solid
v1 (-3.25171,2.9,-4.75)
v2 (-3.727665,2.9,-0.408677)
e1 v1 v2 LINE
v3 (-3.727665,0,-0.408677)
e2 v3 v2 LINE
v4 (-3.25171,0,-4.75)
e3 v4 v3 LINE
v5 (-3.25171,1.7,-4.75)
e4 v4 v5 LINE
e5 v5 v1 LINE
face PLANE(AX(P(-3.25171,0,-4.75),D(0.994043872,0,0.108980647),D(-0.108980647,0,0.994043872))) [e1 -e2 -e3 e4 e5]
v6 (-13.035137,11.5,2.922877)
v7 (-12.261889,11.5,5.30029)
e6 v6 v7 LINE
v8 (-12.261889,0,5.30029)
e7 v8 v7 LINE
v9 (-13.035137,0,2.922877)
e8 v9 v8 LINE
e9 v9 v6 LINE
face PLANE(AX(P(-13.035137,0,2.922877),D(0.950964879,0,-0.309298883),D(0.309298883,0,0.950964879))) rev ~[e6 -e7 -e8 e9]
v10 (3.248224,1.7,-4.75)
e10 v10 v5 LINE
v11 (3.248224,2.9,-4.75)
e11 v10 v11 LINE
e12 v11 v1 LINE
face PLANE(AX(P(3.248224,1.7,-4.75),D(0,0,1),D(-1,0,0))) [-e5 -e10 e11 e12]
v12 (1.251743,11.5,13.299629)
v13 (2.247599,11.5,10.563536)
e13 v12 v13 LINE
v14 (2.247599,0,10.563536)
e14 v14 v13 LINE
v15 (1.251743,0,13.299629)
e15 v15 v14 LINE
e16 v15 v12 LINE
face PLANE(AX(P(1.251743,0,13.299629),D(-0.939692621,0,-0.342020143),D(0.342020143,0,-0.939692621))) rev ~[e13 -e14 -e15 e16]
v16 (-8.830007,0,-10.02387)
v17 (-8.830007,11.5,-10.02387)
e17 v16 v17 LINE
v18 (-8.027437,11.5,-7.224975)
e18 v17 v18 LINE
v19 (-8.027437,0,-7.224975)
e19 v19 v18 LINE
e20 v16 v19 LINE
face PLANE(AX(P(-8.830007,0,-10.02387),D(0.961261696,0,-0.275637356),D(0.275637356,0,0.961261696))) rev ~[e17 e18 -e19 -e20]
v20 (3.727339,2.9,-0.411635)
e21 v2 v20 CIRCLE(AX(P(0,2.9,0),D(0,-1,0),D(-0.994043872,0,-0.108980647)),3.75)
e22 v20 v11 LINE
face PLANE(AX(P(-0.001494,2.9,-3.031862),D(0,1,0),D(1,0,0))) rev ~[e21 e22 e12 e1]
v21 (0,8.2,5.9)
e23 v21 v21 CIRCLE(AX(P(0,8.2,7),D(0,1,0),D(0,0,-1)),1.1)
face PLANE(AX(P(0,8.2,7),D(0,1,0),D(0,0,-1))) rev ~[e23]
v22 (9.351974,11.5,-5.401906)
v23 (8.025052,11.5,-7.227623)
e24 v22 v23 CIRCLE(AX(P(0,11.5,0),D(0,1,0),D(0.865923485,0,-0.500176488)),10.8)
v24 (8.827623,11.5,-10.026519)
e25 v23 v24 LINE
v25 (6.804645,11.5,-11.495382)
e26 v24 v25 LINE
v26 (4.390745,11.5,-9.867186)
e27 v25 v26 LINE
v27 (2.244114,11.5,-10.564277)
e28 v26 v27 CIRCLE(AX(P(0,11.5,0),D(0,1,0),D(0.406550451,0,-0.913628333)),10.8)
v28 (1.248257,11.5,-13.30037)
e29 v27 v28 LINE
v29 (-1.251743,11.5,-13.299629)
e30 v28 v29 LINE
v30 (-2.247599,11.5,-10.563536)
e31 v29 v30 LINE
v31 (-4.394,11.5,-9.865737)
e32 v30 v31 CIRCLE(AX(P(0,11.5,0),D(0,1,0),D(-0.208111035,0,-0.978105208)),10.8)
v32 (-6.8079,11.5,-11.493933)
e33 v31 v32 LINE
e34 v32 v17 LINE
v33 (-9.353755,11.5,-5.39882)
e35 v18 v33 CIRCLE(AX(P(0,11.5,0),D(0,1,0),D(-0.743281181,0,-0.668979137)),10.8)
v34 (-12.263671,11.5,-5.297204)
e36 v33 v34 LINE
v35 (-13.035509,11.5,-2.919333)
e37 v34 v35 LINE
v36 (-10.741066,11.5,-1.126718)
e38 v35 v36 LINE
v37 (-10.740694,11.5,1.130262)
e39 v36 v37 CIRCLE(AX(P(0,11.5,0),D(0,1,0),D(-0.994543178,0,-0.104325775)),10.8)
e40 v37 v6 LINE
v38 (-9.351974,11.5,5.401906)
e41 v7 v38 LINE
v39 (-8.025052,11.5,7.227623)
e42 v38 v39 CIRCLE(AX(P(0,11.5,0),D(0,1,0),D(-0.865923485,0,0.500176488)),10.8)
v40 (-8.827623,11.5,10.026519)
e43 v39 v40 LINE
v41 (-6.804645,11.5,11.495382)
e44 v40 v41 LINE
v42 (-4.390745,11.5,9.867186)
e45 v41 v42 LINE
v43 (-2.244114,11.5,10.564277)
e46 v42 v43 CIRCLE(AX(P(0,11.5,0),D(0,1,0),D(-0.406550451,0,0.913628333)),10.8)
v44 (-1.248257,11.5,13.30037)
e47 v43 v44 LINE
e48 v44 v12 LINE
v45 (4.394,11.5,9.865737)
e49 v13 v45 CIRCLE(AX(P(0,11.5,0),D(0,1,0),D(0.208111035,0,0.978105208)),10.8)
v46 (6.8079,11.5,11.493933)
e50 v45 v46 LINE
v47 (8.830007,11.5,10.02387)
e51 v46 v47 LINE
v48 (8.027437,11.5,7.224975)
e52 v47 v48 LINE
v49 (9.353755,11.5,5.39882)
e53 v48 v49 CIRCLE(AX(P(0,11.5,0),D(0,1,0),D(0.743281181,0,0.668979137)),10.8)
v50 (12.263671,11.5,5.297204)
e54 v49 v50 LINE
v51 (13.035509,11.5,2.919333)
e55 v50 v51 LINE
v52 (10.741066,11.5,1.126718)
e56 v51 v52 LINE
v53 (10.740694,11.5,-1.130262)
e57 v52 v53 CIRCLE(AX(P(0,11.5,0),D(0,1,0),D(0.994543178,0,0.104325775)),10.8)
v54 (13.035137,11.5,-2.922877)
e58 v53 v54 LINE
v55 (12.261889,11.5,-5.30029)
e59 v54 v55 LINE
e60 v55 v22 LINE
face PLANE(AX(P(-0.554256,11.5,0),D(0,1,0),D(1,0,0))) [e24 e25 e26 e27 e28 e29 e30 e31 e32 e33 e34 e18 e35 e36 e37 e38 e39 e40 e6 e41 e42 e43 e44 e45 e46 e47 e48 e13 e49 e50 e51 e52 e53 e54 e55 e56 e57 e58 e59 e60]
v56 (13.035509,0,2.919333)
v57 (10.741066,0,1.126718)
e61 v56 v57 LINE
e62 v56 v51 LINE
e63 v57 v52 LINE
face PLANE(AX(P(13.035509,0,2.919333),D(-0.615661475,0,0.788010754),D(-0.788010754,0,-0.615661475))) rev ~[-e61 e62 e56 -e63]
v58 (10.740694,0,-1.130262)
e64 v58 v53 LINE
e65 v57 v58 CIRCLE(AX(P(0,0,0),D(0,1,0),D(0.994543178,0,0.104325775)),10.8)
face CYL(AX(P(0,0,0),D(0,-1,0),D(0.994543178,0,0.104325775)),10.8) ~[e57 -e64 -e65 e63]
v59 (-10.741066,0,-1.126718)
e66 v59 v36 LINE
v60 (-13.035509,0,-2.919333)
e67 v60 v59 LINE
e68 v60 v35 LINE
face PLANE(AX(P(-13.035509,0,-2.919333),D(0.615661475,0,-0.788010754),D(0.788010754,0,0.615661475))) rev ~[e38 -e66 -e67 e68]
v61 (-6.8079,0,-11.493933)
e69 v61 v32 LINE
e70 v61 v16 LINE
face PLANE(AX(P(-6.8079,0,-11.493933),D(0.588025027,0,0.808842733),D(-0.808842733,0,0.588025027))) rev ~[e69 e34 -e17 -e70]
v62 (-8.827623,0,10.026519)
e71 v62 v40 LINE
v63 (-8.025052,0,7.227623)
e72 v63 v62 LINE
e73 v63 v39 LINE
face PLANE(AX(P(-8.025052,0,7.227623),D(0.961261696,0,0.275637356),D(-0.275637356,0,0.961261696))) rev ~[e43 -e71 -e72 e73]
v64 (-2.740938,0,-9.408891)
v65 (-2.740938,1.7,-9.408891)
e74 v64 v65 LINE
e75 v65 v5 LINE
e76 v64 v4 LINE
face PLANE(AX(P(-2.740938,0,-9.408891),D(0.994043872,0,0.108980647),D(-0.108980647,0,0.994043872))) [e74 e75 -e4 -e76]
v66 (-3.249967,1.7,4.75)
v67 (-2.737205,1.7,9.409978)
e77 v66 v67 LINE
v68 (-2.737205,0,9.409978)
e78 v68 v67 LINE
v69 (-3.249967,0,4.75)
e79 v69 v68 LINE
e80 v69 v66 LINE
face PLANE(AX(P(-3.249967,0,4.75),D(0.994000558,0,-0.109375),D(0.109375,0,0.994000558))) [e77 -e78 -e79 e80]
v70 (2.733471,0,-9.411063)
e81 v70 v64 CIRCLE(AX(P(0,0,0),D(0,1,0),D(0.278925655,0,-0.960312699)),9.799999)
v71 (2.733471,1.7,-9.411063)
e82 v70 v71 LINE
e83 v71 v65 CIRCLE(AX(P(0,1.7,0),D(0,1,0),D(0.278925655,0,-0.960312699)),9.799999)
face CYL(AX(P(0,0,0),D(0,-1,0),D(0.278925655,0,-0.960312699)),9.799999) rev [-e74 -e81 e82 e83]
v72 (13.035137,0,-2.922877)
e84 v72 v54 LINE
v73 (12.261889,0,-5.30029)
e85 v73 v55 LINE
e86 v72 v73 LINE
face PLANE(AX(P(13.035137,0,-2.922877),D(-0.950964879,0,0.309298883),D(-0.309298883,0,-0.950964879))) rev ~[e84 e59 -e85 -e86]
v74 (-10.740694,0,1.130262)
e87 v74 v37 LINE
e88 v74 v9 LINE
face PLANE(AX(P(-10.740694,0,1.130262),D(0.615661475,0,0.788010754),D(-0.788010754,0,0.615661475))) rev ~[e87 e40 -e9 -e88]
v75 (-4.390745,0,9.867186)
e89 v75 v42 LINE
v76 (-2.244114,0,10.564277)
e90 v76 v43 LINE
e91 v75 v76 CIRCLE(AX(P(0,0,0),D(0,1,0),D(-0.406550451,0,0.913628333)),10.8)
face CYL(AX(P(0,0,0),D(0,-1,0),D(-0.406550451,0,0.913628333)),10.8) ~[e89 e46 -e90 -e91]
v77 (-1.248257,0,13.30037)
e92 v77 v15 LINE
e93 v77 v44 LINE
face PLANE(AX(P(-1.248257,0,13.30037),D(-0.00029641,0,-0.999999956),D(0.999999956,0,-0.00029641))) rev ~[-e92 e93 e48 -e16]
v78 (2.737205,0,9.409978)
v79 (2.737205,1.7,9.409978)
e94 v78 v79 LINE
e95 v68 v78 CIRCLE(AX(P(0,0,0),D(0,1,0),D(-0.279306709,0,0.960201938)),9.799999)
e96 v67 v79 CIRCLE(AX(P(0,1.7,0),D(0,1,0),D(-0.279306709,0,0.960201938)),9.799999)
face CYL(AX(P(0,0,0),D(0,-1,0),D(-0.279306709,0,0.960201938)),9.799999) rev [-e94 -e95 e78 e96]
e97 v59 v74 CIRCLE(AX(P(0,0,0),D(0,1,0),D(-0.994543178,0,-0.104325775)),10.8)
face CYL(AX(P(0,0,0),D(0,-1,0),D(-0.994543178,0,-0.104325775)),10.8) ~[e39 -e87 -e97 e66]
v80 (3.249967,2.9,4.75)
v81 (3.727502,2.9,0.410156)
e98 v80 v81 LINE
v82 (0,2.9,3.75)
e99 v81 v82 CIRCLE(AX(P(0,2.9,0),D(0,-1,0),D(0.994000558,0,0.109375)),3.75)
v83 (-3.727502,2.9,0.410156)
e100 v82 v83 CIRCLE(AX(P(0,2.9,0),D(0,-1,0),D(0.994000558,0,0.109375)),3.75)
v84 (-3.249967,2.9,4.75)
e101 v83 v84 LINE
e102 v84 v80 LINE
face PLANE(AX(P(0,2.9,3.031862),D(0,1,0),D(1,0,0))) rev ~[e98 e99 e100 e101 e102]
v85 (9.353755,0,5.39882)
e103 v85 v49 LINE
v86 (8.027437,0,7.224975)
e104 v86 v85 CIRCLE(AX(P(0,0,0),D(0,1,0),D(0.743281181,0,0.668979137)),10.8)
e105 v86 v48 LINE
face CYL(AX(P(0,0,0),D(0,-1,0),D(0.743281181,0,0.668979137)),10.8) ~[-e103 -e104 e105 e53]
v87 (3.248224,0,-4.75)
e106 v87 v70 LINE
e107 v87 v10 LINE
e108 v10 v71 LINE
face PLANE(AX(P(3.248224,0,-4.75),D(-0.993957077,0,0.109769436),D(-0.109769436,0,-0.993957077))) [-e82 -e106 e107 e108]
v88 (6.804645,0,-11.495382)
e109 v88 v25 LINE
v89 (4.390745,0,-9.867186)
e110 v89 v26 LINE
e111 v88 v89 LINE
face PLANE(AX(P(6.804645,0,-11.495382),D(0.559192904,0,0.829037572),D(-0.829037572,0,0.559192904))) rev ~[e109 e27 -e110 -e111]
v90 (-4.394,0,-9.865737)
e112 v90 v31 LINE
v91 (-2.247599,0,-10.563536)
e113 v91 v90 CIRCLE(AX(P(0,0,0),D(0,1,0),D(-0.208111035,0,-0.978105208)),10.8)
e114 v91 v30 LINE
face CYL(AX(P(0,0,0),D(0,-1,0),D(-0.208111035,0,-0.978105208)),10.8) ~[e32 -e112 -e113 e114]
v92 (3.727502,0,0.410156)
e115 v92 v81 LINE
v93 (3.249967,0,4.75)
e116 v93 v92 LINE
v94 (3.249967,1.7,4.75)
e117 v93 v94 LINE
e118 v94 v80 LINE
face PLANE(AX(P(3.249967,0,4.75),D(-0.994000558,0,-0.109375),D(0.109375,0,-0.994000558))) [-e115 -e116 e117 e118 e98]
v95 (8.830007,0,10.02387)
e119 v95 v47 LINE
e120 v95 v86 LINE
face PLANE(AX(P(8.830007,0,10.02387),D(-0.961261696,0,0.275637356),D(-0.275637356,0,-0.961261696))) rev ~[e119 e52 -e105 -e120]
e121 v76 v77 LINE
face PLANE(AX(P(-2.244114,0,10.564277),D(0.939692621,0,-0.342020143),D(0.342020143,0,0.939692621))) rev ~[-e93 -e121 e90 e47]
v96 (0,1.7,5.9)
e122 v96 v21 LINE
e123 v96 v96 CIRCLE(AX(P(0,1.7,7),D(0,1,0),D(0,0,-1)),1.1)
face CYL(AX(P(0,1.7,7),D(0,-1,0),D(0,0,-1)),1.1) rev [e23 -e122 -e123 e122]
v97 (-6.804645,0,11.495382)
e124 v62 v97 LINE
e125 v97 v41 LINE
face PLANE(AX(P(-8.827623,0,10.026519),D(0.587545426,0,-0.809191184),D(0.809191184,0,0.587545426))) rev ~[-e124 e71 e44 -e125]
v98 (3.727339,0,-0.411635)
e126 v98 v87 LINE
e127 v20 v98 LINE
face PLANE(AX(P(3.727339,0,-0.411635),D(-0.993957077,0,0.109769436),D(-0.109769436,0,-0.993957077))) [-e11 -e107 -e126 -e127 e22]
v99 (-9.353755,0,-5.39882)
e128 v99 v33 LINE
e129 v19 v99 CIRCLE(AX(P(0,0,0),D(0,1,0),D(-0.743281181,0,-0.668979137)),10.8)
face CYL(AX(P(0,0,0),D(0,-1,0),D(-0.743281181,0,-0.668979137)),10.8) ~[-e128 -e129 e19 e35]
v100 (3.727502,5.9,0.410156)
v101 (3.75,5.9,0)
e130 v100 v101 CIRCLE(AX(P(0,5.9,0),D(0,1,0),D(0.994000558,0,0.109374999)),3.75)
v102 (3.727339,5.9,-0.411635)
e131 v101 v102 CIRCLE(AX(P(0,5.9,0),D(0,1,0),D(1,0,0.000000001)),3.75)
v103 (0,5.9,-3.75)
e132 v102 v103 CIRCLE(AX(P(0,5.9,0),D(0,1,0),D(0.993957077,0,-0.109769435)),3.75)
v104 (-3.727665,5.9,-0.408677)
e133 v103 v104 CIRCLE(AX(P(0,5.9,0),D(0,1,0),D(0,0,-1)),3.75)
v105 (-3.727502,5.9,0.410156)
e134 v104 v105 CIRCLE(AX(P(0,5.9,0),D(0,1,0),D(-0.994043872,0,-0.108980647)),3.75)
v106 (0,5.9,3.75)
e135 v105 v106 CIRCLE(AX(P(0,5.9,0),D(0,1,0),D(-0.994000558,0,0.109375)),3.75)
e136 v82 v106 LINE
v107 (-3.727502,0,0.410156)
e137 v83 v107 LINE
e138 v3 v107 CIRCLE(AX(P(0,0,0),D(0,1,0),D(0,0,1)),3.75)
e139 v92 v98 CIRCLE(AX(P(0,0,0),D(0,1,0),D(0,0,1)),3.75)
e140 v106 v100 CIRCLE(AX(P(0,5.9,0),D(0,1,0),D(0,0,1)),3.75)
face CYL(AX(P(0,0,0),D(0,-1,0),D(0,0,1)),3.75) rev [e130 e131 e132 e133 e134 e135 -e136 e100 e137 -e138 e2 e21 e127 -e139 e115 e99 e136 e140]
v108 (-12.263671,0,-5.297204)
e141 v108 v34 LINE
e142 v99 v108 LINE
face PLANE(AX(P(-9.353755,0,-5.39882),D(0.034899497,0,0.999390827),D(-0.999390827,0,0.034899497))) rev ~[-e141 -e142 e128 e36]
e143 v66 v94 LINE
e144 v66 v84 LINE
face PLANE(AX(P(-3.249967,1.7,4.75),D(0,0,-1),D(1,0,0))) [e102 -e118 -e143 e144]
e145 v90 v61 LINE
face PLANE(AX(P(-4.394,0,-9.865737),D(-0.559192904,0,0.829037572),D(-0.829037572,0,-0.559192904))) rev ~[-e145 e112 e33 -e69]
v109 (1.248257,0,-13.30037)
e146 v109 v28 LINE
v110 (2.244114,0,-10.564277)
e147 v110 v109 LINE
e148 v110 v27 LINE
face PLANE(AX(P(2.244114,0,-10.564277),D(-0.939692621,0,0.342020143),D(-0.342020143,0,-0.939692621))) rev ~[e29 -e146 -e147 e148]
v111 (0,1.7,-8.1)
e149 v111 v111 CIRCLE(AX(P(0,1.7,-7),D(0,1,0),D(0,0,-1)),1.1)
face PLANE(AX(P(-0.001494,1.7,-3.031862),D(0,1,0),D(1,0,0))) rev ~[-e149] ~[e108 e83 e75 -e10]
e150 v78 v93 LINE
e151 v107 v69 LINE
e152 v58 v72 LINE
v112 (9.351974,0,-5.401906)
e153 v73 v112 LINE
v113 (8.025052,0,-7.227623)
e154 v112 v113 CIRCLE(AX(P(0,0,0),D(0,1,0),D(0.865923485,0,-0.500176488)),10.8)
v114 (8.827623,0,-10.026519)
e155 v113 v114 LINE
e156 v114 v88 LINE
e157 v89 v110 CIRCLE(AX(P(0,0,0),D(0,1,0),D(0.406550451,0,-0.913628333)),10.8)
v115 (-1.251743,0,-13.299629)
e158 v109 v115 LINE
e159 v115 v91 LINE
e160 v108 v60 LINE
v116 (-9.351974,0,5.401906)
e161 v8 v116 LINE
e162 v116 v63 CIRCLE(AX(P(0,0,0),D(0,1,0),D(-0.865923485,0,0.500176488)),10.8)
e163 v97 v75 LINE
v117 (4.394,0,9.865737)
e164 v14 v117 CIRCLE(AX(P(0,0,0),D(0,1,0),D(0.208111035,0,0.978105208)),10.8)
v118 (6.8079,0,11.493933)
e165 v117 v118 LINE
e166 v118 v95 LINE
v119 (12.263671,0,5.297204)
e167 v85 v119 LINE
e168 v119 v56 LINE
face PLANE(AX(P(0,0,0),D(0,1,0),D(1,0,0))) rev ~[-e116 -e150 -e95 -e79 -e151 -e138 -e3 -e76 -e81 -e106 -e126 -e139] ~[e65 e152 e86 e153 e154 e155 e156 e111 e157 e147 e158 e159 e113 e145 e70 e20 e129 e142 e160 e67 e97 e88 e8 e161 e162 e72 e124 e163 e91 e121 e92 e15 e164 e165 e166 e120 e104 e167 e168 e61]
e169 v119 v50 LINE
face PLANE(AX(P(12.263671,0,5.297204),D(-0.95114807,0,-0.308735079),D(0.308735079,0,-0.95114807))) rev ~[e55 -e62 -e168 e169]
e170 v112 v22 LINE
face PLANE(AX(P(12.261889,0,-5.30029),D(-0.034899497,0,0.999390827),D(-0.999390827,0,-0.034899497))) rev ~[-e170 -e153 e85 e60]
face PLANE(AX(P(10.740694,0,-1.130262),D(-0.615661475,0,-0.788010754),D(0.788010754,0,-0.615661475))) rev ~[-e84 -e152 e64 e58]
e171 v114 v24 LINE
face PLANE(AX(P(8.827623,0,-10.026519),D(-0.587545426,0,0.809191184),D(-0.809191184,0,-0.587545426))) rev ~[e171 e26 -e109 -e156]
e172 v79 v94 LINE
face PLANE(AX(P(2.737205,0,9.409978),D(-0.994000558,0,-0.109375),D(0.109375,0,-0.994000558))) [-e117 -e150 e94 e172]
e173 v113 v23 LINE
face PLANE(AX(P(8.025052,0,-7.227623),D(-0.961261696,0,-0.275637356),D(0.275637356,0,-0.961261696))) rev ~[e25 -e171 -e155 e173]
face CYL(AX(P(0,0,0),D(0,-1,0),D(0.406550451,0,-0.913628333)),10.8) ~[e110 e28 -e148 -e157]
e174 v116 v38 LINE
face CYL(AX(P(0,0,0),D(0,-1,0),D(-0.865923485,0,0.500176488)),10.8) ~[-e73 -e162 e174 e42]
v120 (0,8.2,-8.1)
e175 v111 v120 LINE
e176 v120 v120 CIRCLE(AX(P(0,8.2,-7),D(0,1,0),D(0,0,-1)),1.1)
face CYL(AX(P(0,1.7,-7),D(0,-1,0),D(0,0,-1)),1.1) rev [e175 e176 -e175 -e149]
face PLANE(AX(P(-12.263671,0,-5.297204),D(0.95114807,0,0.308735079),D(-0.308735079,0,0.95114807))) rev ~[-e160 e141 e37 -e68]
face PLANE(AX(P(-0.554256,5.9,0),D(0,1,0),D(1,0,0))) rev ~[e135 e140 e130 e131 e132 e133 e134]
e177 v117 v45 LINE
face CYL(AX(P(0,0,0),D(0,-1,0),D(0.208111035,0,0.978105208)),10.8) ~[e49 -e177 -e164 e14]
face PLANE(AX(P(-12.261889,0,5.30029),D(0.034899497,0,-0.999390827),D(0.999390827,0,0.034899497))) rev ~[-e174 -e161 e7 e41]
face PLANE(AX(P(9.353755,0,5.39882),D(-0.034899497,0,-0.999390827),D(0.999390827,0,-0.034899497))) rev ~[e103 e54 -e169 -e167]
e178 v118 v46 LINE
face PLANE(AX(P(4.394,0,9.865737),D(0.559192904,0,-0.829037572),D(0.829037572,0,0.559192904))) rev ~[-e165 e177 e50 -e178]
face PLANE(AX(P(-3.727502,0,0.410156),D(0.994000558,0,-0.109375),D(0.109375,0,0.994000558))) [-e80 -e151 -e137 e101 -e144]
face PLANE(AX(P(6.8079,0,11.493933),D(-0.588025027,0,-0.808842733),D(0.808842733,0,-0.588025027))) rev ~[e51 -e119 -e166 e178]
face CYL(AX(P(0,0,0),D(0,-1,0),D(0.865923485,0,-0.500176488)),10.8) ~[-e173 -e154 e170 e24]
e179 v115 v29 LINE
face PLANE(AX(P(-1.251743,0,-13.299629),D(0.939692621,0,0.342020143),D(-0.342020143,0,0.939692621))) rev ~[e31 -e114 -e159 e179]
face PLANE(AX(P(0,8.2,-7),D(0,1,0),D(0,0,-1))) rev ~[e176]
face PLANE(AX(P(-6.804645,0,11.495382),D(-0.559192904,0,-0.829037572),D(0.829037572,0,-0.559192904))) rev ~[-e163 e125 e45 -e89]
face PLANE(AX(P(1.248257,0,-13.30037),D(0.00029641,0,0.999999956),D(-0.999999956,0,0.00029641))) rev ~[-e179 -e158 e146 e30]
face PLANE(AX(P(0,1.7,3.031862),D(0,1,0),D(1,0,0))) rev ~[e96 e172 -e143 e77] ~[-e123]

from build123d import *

# Parameters (mm, degrees)
CROQUIS1_R              = 3.75
SALIENTE_EXTRUIR1_DEPTH = 11.5
CROQUIS1_4_R            = 1.1
CORTAR_EXTRUIR1_DEPTH   = 1.7
CORTAR_EXTRUIR2_START   = 1.7
CORTAR_EXTRUIR2_DEPTH   = 1.2
CUT_EXTRUDE1_START      = 1.7
CROQUIS1_7_R            = 1.1
CUT_EXTRUDE1_DEPTH      = 6.5
BOSS_EXTRUDE1_START     = 11.5
BOSS_EXTRUDE1_DEPTH     = 5.6


with BuildPart() as part:
    # Croquis1 → Saliente-Extruir1 (new body)
    with BuildSketch(Plane(origin=(0, 0, 0), x_dir=(1, 0, 0), z_dir=(0, 1, 0))):
        with BuildLine():
            Line((1.248257156, 13.300370373), (-1.251742735, 13.299629349))
            Line((-1.251742735, 13.299629349), (-2.247599184, 10.563536241))
            ThreePointArc((-2.247599184, 10.563536241), (-3.339078028, 10.270859649), (-4.394000333, 9.865736722))
            Line((-4.394000333, 9.865736722), (-6.807900303, 11.493932811))
            Line((-6.807900303, 11.493932811), (-8.830007137, 10.023870243))
            Line((-8.830007137, 10.023870243), (-8.027436751, 7.224974686))
            ThreePointArc((-8.027436751, 7.224974686), (-8.7384307, 6.346639181), (-9.353755491, 5.398820076))
            Line((-9.353755491, 5.398820076), (-12.263671238, 5.297203579))
            Line((-12.263671238, 5.297203579), (-13.035508935, 2.919333403))
            Line((-13.035508935, 2.919333403), (-10.741066321, 1.126718369))
            ThreePointArc((-10.741066321, 1.126718369), (-10.799999853, -0.001781739), (-10.740693974, -1.13026234))
            Line((-10.740693974, -1.13026234), (-13.035136587, -2.922877375))
            Line((-13.035136587, -2.922877375), (-12.261889379, -5.300289572))
            Line((-12.261889379, -5.300289572), (-9.351973632, -5.401906069))
            ThreePointArc((-9.351973632, -5.401906069), (-8.73633614, -6.349522096), (-8.025052421, -7.227622959))
            Line((-8.025052421, -7.227622959), (-8.827622808, -10.026518516))
            Line((-8.827622808, -10.026518516), (-6.804644848, -11.495382082))
            Line((-6.804644848, -11.495382082), (-4.390744878, -9.867185993))
            ThreePointArc((-4.390744878, -9.867185993), (-3.335688959, -10.271960824), (-2.244113605, -10.564277265))
            Line((-2.244113605, -10.564277265), (-1.248257156, -13.300370373))
            Line((-1.248257156, -13.300370373), (1.251742735, -13.299629349))
            Line((1.251742735, -13.299629349), (2.247599184, -10.563536241))
            ThreePointArc((2.247599184, -10.563536241), (3.339078028, -10.270859649), (4.394000333, -9.865736722))
            Line((4.394000333, -9.865736722), (6.807900303, -11.493932811))
            Line((6.807900303, -11.493932811), (8.830007137, -10.023870243))
            Line((8.830007137, -10.023870243), (8.027436751, -7.224974686))
            ThreePointArc((8.027436751, -7.224974686), (8.7384307, -6.346639181), (9.353755491, -5.398820076))
            Line((9.353755491, -5.398820076), (12.263671238, -5.297203579))
            Line((12.263671238, -5.297203579), (13.035508935, -2.919333403))
            Line((13.035508935, -2.919333403), (10.741066321, -1.126718369))
            ThreePointArc((10.741066321, -1.126718369), (10.799999853, 0.001781739), (10.740693974, 1.13026234))
            Line((10.740693974, 1.13026234), (13.035136587, 2.922877375))
            Line((13.035136587, 2.922877375), (12.261889379, 5.300289572))
            Line((12.261889379, 5.300289572), (9.351973632, 5.401906069))
            ThreePointArc((9.351973632, 5.401906069), (8.73633614, 6.349522096), (8.025052421, 7.227622959))
            Line((8.025052421, 7.227622959), (8.827622808, 10.026518516))
            Line((8.827622808, 10.026518516), (6.804644848, 11.495382082))
            Line((6.804644848, 11.495382082), (4.390744878, 9.867185993))
            ThreePointArc((4.390744878, 9.867185993), (3.335688959, 10.271960824), (2.244113605, 10.564277265))
            Line((2.244113605, 10.564277265), (1.248257156, 13.300370373))
        make_face()
        with Locations(Location((0, 0, 0), (0, 0, 270))):
            Circle(CROQUIS1_R, mode=Mode.SUBTRACT)
    extrude(amount=SALIENTE_EXTRUIR1_DEPTH)

    # Croquis1<4> → Cortar-Extruir1 (cut)
    with BuildSketch(Plane(origin=(0, 0, 0), x_dir=(1, 0, 0), z_dir=(0, 1, 0))):
        with BuildLine():
            ThreePointArc((3.727502093, -0.41015625), (0, -3.75), (-3.727502093, -0.41015625))
            Line((-3.727502093, -0.41015625), (-3.249966737, -4.75))
            Line((-3.249966737, -4.75), (3.249966737, -4.75))
            Line((3.249966737, -4.75), (3.727502093, -0.41015625))
        make_face()
        with BuildLine():
            Line((3.249966737, -4.75), (-3.249966737, -4.75))
            Line((-3.249966737, -4.75), (-2.737205389, -9.409977746))
            ThreePointArc((-2.737205389, -9.409977746), (0, -9.7999987), (2.737205389, -9.409977746))
            Line((2.737205389, -9.409977746), (3.249966737, -4.75))
        make_face()
        with Locations((0, -7)):
            Circle(CROQUIS1_4_R, mode=Mode.SUBTRACT)
        with BuildLine():
            Line((3.248223947, 4.75), (-3.251709526, 4.75))
            Line((-3.251709526, 4.75), (-3.727664518, 0.408677426))
            ThreePointArc((-3.727664518, 0.408677426), (-0.001487905, 3.749999705), (3.727339039, 0.411635384))
            Line((3.727339039, 0.411635384), (3.248223947, 4.75))
        make_face()
        with BuildLine():
            Line((-2.740938342, 9.408891089), (-3.251709526, 4.75))
            Line((-3.251709526, 4.75), (3.248223947, 4.75))
            Line((3.248223947, 4.75), (2.733471058, 9.411063197))
            ThreePointArc((2.733471058, 9.411063197), (-0.003888392, 9.799997928), (-2.740938342, 9.408891089))
        make_face()
        with Locations((0, 7)):
            Circle(CROQUIS1_4_R, mode=Mode.SUBTRACT)
        with Locations((0, 7)):
            Circle(CROQUIS1_4_R)
        with Locations((0, -7)):
            Circle(CROQUIS1_4_R)
    extrude(amount=CORTAR_EXTRUIR1_DEPTH, mode=Mode.SUBTRACT)

    # Croquis1<5> → Cortar-Extruir2 (cut)
    with BuildSketch(Plane(origin=(0, 0, 0), x_dir=(1, 0, 0), z_dir=(0, 1, 0)).offset(CORTAR_EXTRUIR2_START)):
        with BuildLine():
            Line((3.248223947, 4.75), (-3.251709526, 4.75))
            Line((-3.251709526, 4.75), (-3.727664518, 0.408677426))
            ThreePointArc((-3.727664518, 0.408677426), (-0.001487905, 3.749999705), (3.727339039, 0.411635384))
            Line((3.727339039, 0.411635384), (3.248223947, 4.75))
        make_face()
        with BuildLine():
            ThreePointArc((3.727502093, -0.41015625), (0, -3.75), (-3.727502093, -0.41015625))
            Line((-3.727502093, -0.41015625), (-3.249966737, -4.75))
            Line((-3.249966737, -4.75), (3.249966737, -4.75))
            Line((3.249966737, -4.75), (3.727502093, -0.41015625))
        make_face()
    extrude(amount=CORTAR_EXTRUIR2_DEPTH, mode=Mode.SUBTRACT)

    # Croquis1<7> → Cut-Extrude1 (cut)
    with BuildSketch(Plane(origin=(0, 0, 0), x_dir=(1, 0, 0), z_dir=(0, 1, 0)).offset(CUT_EXTRUDE1_START)):
        with Locations(Location((0, -7, 0), (0, 0, 90))):
            Circle(CROQUIS1_7_R)
        with Locations(Location((0, 7, 0), (0, 0, 90))):
            Circle(CROQUIS1_7_R)
    extrude(amount=CUT_EXTRUDE1_DEPTH, mode=Mode.SUBTRACT)

    # Croquis1<10> → Boss-Extrude1 (add)
    with BuildSketch(Plane(origin=(0, 0, 0), x_dir=(1, 0, 0), z_dir=(0, 1, 0)).offset(BOSS_EXTRUDE1_START)):
        with BuildLine():
            ThreePointArc((0, 1.6), (-1.6, 0), (0, -1.6))
            Line((0, -1.6), (0, 1.6))
        make_face()
        with BuildLine():
            Line((0, 1.6), (0, -1.6))
            ThreePointArc((0, -1.6), (1.13137085, -1.13137085), (1.6, 0))
            ThreePointArc((1.6, 0), (1.13137085, 1.13137085), (0, 1.6))
        make_face()
        with BuildLine():
            ThreePointArc((0, 2.6), (-2.6, 0), (0, -2.6))
            Line((0, -2.6), (0, -1.6))
            ThreePointArc((0, -1.6), (-1.6, 0), (0, 1.6))
            Line((0, 1.6), (0, 2.6))
        make_face()
        with BuildLine():
            Line((0, -1.6), (0, -2.6))
            ThreePointArc((0, -2.6), (1.838477631, -1.838477631), (2.6, 0))
            ThreePointArc((2.6, 0), (1.838477631, 1.838477631), (0, 2.6))
            Line((0, 2.6), (0, 1.6))
            ThreePointArc((0, 1.6), (1.13137085, 1.13137085), (1.6, 0))
            ThreePointArc((1.6, 0), (1.13137085, -1.13137085), (0, -1.6))
        make_face()
        with BuildLine():
            ThreePointArc((-3.727502093, -0.41015625), (-2.502440215, -2.792900458), (0, -3.75))
            Line((0, -3.75), (0, -2.6))
            ThreePointArc((0, -2.6), (-2.6, 0), (0, 2.6))
            Line((0, 2.6), (0, 3.75))
            ThreePointArc((0, 3.75), (-2.502994172, 2.792404013), (-3.727664518, 0.408677426))
            ThreePointArc((-3.727664518, 0.408677426), (-3.749999926, -0.000743858), (-3.727502093, -0.41015625))
        make_face()
        with BuildLine():
            Line((0, -2.6), (0, -3.75))
            ThreePointArc((0, -3.75), (2.502440215, -2.792900458), (3.727502093, -0.41015625))
            ThreePointArc((3.727502093, -0.41015625), (3.744371299, -0.205386407), (3.75, 0))
            ThreePointArc((3.75, 0), (3.744330474, 0.206129334), (3.727339039, 0.411635384))
            ThreePointArc((3.727339039, 0.411635384), (2.50188602, 2.793396919), (0, 3.75))
            Line((0, 3.75), (0, 2.6))
            ThreePointArc((0, 2.6), (1.838477631, 1.838477631), (2.6, 0))
            ThreePointArc((2.6, 0), (1.838477631, -1.838477631), (0, -2.6))
        make_face()
    extrude(amount=-BOSS_EXTRUDE1_DEPTH)


solid = part.part
